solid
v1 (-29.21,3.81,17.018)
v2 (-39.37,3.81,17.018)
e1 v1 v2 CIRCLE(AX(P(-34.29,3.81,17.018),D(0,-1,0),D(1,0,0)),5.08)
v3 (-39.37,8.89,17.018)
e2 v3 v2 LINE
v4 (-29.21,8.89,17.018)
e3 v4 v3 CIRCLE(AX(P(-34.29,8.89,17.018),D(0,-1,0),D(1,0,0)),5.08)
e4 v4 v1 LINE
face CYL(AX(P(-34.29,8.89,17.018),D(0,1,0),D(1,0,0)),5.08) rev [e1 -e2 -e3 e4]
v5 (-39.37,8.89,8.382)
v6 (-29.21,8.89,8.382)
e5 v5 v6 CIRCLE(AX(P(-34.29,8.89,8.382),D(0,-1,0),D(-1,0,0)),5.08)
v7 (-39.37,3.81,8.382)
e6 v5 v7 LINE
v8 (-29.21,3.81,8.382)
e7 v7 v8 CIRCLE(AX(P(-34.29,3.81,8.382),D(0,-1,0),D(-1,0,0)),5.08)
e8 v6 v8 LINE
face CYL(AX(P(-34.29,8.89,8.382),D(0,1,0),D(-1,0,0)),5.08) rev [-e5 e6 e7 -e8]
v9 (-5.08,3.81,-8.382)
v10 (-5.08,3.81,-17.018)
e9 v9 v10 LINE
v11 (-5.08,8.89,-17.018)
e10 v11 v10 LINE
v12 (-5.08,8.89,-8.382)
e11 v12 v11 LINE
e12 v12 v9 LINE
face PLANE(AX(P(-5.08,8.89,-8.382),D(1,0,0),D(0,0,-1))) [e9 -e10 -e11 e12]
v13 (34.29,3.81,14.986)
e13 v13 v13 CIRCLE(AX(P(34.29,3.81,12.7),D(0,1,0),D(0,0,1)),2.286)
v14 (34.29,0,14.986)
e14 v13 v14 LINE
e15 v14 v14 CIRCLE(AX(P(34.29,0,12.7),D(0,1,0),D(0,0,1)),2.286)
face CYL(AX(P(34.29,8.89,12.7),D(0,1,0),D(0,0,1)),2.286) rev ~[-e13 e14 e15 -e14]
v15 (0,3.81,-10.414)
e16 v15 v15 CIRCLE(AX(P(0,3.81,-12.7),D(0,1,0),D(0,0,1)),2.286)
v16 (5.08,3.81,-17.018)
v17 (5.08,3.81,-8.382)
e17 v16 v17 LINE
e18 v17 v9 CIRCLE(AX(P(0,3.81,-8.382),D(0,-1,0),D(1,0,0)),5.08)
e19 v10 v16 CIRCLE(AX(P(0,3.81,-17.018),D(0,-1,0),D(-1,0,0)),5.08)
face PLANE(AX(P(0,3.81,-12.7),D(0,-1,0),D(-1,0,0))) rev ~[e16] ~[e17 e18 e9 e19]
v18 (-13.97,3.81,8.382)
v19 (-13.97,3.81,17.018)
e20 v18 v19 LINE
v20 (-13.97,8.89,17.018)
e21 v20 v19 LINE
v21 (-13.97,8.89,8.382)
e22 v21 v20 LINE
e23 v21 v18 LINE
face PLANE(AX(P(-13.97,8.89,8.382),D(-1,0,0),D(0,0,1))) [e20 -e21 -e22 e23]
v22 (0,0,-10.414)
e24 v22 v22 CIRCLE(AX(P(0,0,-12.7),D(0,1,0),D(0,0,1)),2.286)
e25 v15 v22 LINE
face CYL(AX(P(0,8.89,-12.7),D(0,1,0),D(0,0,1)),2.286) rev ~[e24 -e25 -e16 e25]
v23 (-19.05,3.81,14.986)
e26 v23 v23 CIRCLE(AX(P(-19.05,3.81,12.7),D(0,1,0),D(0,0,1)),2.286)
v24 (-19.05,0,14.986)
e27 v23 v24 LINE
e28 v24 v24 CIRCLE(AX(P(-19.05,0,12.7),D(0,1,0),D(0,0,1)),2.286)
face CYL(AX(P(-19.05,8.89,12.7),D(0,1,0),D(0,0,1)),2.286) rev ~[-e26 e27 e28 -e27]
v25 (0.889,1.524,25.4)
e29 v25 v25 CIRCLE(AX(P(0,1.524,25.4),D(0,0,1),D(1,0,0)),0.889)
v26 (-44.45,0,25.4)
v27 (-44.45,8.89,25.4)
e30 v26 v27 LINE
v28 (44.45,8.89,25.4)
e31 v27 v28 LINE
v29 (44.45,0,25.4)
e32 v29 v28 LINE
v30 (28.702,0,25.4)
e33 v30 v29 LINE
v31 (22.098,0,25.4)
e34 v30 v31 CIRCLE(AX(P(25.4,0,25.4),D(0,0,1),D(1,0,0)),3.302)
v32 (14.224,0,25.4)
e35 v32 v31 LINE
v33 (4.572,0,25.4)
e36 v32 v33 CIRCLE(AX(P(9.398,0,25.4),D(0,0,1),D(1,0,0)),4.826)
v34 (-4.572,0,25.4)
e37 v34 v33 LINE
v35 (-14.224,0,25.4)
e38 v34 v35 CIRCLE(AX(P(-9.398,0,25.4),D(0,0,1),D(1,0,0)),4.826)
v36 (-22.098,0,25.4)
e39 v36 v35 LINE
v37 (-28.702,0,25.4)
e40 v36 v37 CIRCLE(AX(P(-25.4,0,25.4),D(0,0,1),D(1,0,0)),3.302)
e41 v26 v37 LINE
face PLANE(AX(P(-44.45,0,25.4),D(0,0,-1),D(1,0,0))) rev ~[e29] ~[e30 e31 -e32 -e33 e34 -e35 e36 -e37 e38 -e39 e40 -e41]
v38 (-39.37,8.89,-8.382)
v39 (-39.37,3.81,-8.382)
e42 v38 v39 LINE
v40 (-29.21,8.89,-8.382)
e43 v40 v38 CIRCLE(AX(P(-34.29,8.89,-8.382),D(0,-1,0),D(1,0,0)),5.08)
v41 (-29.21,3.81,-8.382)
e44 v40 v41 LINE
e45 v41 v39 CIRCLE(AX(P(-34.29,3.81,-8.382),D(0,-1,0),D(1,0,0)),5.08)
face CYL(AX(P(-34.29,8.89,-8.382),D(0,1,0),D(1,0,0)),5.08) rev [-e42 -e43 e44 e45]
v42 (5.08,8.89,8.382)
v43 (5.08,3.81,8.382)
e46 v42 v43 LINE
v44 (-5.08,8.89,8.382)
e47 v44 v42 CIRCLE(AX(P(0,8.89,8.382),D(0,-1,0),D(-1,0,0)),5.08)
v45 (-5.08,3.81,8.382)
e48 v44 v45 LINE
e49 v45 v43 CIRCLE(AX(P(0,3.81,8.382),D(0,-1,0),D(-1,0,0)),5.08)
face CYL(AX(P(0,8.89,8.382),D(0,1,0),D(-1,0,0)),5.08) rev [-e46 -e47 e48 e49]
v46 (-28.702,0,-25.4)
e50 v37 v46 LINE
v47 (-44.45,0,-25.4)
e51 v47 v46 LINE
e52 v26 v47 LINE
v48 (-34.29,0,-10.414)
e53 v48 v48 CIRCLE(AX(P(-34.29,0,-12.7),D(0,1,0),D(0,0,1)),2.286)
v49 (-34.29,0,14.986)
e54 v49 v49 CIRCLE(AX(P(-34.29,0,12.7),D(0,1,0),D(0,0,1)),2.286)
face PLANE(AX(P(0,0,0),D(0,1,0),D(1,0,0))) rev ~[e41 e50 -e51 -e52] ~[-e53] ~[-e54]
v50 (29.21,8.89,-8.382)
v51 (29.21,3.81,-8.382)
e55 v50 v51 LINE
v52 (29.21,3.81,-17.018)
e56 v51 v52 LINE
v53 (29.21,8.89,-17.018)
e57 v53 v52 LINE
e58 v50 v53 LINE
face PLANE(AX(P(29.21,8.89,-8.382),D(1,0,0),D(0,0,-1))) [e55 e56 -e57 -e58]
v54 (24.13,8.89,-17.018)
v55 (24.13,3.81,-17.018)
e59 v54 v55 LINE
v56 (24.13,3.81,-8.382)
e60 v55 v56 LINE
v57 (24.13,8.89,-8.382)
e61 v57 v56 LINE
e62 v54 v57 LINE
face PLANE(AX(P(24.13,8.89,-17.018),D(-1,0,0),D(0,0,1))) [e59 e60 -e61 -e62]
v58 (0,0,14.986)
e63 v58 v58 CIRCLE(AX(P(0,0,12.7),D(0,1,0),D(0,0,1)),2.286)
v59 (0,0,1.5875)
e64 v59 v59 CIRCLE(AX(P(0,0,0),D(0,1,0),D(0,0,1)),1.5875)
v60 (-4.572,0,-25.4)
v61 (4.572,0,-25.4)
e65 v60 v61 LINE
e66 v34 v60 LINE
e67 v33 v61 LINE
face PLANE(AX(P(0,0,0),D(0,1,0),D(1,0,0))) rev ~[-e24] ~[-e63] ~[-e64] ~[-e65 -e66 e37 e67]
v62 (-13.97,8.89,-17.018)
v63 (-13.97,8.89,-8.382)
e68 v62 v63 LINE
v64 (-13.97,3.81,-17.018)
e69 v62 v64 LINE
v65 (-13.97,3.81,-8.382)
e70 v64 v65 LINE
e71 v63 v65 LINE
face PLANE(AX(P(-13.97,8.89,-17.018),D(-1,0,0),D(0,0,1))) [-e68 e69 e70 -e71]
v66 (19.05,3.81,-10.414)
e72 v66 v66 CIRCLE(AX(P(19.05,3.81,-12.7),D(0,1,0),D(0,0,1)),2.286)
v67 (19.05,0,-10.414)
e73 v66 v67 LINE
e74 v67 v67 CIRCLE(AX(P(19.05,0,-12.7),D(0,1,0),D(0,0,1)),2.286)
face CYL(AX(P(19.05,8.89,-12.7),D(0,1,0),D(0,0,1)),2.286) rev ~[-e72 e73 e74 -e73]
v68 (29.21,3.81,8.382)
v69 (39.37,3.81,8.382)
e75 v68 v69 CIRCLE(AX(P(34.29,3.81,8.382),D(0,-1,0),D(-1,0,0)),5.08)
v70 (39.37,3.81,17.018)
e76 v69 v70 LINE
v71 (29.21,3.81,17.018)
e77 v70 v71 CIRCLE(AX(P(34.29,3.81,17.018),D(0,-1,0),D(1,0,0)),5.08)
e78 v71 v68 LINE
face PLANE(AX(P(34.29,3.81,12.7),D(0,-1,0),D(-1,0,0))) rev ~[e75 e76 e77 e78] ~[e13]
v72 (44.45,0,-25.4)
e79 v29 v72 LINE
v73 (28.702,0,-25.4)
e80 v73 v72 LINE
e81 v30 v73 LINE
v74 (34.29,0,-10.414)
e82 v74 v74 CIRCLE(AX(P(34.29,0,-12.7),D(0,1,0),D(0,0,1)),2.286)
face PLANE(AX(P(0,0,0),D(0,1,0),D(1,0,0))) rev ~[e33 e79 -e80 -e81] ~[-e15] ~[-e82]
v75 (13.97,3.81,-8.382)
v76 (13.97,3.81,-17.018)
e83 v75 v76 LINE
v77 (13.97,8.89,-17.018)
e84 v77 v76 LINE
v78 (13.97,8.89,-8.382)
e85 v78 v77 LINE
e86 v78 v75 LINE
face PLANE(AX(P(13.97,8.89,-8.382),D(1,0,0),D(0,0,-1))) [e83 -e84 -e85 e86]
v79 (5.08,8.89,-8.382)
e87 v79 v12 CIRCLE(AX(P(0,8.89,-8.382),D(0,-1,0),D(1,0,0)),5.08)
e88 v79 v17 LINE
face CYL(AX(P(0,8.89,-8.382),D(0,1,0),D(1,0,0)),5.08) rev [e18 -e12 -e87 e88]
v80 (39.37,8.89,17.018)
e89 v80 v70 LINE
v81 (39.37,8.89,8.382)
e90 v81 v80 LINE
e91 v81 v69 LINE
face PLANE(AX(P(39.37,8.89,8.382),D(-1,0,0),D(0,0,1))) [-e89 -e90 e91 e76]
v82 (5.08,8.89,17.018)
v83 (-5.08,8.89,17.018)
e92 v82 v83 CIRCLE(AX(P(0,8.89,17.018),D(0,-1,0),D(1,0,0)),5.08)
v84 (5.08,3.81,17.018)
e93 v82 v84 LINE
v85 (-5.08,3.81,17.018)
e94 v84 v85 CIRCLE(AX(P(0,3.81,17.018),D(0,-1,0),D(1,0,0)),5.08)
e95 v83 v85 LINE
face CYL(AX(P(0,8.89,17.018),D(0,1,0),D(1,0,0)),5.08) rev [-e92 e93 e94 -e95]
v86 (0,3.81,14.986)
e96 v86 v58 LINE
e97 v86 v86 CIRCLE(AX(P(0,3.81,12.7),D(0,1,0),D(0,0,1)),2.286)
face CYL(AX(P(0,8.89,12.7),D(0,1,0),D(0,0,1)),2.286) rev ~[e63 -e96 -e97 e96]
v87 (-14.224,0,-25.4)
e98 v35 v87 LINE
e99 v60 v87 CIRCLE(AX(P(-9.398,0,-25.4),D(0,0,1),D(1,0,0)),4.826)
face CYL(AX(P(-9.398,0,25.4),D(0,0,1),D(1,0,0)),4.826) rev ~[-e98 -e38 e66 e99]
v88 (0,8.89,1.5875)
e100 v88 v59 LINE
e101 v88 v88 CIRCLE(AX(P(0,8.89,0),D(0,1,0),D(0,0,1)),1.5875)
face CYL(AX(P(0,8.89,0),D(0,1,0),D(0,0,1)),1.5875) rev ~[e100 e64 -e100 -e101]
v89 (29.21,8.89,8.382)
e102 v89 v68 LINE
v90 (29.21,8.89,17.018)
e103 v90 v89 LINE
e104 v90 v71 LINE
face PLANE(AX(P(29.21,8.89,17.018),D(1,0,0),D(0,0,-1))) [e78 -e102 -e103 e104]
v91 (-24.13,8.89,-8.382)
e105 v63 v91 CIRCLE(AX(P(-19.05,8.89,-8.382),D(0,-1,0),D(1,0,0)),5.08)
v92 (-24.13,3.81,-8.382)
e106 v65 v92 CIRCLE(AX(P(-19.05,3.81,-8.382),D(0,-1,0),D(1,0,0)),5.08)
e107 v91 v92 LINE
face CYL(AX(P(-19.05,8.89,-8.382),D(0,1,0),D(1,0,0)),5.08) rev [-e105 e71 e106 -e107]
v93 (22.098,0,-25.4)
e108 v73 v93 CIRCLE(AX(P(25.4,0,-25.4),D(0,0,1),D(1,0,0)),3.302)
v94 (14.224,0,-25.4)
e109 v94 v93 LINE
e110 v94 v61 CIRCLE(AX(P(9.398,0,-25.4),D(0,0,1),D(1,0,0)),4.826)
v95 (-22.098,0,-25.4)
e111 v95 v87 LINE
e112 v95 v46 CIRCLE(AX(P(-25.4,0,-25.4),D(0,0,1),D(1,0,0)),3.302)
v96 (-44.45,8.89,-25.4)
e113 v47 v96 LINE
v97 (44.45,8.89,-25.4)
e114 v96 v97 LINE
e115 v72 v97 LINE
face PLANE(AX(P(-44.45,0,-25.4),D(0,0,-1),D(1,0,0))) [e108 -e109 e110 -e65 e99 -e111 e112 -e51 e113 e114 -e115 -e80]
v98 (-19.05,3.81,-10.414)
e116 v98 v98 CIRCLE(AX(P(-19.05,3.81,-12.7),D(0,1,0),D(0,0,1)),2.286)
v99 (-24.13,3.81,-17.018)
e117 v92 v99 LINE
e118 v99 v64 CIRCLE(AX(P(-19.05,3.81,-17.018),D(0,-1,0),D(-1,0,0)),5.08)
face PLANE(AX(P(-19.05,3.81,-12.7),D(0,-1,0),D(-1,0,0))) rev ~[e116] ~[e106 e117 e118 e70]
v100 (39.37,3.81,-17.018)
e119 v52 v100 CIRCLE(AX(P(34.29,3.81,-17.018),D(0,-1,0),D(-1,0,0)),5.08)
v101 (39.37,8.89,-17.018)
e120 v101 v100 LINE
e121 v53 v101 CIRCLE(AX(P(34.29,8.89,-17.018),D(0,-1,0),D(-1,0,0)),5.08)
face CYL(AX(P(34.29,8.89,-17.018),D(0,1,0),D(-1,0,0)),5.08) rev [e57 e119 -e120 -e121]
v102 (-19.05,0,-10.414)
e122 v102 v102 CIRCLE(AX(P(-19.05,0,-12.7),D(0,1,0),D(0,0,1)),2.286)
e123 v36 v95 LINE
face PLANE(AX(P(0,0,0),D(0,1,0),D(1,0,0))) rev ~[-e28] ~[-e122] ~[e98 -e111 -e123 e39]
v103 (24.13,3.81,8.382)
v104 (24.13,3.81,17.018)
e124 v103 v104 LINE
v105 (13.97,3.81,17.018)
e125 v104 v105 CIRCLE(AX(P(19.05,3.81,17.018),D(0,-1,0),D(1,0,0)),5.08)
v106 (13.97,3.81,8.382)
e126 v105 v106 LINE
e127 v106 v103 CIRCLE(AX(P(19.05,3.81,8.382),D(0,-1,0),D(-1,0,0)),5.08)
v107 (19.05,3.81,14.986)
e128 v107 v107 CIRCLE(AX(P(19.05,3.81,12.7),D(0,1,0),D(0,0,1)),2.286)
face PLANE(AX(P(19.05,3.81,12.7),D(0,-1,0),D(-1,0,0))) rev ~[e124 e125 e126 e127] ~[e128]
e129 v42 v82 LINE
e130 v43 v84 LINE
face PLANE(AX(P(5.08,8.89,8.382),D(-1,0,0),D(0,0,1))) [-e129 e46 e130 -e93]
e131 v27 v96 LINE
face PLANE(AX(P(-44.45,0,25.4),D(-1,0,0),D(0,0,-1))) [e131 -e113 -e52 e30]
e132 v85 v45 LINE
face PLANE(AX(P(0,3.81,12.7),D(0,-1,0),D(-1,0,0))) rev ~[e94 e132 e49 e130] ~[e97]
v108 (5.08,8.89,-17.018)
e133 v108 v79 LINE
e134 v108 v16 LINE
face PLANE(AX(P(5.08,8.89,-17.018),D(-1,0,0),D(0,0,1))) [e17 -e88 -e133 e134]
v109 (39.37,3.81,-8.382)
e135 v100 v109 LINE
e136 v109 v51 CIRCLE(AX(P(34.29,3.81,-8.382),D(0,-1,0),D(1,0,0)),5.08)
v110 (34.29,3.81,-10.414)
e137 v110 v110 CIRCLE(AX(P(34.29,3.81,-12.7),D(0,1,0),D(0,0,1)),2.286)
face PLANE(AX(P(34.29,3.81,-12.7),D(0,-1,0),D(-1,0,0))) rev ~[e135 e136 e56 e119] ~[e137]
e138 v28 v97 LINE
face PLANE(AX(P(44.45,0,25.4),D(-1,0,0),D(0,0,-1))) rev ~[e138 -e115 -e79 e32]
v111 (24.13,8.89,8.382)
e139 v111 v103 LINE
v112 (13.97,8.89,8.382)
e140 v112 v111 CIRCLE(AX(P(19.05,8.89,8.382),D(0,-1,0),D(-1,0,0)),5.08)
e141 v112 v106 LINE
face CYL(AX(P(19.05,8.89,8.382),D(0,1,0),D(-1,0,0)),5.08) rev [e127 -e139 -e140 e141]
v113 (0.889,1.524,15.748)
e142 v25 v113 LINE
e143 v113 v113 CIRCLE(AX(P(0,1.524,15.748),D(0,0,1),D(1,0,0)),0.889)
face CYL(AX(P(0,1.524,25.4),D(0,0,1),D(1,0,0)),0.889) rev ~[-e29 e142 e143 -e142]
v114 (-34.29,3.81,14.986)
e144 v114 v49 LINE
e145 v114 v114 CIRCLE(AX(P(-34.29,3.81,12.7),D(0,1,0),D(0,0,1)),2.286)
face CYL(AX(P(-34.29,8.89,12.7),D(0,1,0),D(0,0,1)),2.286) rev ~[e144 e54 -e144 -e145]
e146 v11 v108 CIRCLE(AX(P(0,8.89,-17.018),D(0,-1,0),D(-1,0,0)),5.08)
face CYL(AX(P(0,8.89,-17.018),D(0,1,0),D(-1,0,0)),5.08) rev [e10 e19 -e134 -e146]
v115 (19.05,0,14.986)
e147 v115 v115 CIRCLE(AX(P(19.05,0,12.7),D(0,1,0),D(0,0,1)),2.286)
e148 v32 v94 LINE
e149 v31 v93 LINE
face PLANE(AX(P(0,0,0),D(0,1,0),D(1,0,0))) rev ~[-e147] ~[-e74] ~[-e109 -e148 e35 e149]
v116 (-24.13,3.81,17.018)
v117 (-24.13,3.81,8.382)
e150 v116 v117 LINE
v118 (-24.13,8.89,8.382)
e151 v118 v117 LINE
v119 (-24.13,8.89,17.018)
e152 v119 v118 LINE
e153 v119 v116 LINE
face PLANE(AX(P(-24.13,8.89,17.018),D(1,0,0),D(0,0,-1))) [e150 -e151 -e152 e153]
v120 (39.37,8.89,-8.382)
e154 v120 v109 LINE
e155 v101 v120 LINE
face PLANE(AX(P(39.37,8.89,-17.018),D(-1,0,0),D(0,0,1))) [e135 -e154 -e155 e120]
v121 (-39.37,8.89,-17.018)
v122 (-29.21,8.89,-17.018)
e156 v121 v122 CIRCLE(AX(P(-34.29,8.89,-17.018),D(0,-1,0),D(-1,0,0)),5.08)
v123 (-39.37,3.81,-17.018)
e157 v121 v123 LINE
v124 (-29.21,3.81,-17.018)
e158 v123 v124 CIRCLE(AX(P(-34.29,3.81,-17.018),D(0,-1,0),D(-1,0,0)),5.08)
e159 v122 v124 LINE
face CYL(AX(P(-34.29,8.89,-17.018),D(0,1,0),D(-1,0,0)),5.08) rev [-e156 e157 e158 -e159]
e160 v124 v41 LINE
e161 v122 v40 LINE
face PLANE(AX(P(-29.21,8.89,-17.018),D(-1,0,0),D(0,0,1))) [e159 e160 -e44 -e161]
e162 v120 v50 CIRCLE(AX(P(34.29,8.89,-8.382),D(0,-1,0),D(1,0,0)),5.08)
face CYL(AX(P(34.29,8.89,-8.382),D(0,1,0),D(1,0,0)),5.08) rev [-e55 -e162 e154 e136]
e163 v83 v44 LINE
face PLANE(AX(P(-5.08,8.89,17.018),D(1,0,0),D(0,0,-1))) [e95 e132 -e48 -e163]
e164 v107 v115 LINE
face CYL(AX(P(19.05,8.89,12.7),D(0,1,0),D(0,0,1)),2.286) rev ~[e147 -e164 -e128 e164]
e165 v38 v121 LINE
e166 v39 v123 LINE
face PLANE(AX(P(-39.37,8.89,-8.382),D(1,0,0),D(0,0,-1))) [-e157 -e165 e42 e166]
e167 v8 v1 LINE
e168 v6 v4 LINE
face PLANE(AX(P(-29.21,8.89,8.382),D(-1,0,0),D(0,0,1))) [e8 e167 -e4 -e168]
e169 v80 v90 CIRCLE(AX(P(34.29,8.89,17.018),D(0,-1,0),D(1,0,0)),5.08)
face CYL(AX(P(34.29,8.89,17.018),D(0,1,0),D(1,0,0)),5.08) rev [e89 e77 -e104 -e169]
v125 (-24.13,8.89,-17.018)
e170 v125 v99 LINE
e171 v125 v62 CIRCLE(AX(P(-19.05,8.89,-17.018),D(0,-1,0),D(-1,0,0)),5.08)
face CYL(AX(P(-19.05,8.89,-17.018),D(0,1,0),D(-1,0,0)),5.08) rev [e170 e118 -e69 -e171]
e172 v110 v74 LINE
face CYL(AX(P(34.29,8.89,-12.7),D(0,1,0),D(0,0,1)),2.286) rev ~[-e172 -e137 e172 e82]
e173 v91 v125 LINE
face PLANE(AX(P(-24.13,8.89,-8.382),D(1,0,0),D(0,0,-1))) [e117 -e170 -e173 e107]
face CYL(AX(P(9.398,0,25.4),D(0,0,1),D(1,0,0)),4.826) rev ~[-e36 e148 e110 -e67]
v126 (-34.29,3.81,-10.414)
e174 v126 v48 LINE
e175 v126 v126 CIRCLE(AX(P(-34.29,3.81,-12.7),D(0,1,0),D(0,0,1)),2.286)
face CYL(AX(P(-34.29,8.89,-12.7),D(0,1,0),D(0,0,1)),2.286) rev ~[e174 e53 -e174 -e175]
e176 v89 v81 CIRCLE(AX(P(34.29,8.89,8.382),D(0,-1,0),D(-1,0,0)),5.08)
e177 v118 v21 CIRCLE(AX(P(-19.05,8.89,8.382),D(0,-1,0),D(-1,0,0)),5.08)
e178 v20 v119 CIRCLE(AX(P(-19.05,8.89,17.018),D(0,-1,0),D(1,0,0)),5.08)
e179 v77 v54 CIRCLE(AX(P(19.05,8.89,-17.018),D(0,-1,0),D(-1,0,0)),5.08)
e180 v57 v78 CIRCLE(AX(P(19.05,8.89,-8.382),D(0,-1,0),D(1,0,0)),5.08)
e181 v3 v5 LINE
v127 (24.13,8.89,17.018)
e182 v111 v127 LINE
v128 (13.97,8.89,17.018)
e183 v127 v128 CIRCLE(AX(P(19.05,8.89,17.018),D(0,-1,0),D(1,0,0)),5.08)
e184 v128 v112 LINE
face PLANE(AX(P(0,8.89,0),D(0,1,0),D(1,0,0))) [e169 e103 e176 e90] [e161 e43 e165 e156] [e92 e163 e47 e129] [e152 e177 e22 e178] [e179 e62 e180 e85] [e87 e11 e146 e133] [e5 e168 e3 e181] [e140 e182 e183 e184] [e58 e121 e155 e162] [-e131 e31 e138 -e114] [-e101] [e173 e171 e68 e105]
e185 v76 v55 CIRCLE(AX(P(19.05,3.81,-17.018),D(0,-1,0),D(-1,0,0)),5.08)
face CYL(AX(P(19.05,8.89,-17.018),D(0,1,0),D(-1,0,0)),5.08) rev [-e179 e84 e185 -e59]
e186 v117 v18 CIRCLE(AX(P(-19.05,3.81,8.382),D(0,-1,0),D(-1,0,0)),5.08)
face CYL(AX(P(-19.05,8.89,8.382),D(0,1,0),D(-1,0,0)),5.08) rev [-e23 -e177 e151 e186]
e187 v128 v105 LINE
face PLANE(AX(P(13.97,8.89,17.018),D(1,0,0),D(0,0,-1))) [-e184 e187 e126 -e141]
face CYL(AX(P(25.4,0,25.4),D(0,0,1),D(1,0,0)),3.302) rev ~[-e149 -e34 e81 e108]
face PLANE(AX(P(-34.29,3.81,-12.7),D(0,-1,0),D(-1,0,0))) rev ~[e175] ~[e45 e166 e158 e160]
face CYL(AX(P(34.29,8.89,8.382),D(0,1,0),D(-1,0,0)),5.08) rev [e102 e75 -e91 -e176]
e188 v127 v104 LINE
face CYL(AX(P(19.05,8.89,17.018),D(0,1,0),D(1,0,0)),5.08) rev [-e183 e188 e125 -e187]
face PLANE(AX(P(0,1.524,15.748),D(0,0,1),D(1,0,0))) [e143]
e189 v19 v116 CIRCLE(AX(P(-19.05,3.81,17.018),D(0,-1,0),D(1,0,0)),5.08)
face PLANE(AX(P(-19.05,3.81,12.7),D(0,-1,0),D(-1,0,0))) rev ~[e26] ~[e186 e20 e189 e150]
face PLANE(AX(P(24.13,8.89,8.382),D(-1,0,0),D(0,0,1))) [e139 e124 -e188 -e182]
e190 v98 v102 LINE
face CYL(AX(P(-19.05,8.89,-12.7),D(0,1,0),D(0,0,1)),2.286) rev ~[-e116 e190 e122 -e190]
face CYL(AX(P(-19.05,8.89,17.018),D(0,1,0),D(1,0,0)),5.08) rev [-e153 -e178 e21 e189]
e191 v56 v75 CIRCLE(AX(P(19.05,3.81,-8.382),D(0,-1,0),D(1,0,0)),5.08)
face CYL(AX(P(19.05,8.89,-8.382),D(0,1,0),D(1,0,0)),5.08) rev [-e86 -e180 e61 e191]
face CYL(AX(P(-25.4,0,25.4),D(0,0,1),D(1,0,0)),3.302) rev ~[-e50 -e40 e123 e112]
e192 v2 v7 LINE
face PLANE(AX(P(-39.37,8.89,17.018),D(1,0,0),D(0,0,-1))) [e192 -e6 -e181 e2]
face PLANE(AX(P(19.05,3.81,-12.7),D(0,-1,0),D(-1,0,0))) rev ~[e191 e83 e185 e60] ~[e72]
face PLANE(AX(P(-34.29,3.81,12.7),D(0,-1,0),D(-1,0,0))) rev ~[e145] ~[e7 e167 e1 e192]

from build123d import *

# Parameters (mm, degrees)
SKETCH1_W           = 88.9
SKETCH1_H           = 50.8
BOSS_EXTRUDE1_DEPTH = 8.89
SKETCH3_R           = 0.889
CUT_EXTRUDE3_DEPTH  = 9.652
CUT_EXTRUDE4_DEPTH  = 69.084319781
CUT_EXTRUDE5_DEPTH  = 69.084319781
CUT_EXTRUDE6_DEPTH  = 69.084319781
SKETCH2_R           = 2.286
CUT_EXTRUDE8_DEPTH  = 5.08
SKETCH11_R          = 2.286
CUT_EXTRUDE9_DEPTH  = 52.961472266
LPATTERN5_COUNT     = 2
LPATTERN5_PITCH     = 25.4
LPATTERN7_COUNT     = 2
LPATTERN7_PITCH     = 25.4
SKETCH12_R          = 1.5875
CUT_EXTRUDE10_DEPTH = 52.961472266
SKETCH13_R          = 0.889
CUT_EXTRUDE11_DEPTH = 9.652


with BuildPart() as part:
    # Sketch1 → Boss-Extrude1 (new body)
    with BuildSketch(Plane(origin=(0, 0, 0), x_dir=(1, 0, 0), z_dir=(0, 1, 0))):
        Rectangle(SKETCH1_W, SKETCH1_H)
    extrude(amount=BOSS_EXTRUDE1_DEPTH)

    # Sketch3 → Cut-Extrude3 (cut)
    with BuildSketch(Plane.XY.offset(25.4)):
        with Locations((6.35, 1.524)):
            Circle(SKETCH3_R)
    extrude(amount=-CUT_EXTRUDE3_DEPTH, mode=Mode.SUBTRACT)

    # Sketch4 → Cut-Extrude4 (cut, through all)
    with BuildSketch(Plane.XY.offset(25.4)):
        with BuildLine():
            Line((4.572, 0), (14.224, 0))
            ThreePointArc((14.224, 0), (9.398, 4.826), (4.572, 0))
        make_face()
    extrude(amount=-CUT_EXTRUDE4_DEPTH, mode=Mode.SUBTRACT)

    # Sketch5 → Cut-Extrude5 (cut, through all)
    with BuildSketch(Plane.XY.offset(25.4)):
        with BuildLine():
            Line((22.098, 0), (28.702, 0))
            ThreePointArc((28.702, 0), (25.4, 3.302), (22.098, 0))
        make_face()
    extrude(amount=-CUT_EXTRUDE5_DEPTH, mode=Mode.SUBTRACT)

    # Sketch6 → Cut-Extrude6 (cut, through all)
    with BuildSketch(Plane.XY.offset(25.4)):
        with BuildLine():
            Line((-28.702, 0), (-22.098, 0))
            ThreePointArc((-22.098, 0), (-25.4, 3.302), (-28.702, 0))
        make_face()
        with BuildLine():
            Line((-14.224, 0), (-4.572, 0))
            ThreePointArc((-4.572, 0), (-9.398, 4.826), (-14.224, 0))
        make_face()
    extrude(amount=-CUT_EXTRUDE6_DEPTH, mode=Mode.SUBTRACT)

    # Sketch2 → Cut-Extrude8 (cut)
    # profile 1 of 5: a face of its own
    with BuildSketch(Plane(origin=(0, 8.89, 0), x_dir=(1, 0, 0), z_dir=(0, 1, 0))):
        with BuildLine():
            Line((-29.21, 17.018), (-29.21, 8.382))
            ThreePointArc((-29.21, 8.382), (-34.29, 3.302), (-39.37, 8.382))
            Line((-39.37, 8.382), (-39.37, 17.018))
            ThreePointArc((-39.37, 17.018), (-34.29, 22.098), (-29.21, 17.018))
        make_face()
        with Locations(Location((-34.29, 12.7, 0), (0, 0, 270))):
            Circle(SKETCH2_R, mode=Mode.SUBTRACT)
    # profile 2 of 5: a face of its own
    with BuildSketch(Plane(origin=(0, 8.89, 0), x_dir=(1, 0, 0), z_dir=(0, 1, 0))):
        with BuildLine():
            Line((-13.97, 17.018), (-13.97, 8.382))
            ThreePointArc((-13.97, 8.382), (-19.05, 3.302), (-24.13, 8.382))
            Line((-24.13, 8.382), (-24.13, 17.018))
            ThreePointArc((-24.13, 17.018), (-19.05, 22.098), (-13.97, 17.018))
        make_face()
        with Locations(Location((-19.05, 12.7, 0), (0, 0, 270))):
            Circle(SKETCH2_R, mode=Mode.SUBTRACT)
    # profile 3 of 5: a face of its own
    with BuildSketch(Plane(origin=(0, 8.89, 0), x_dir=(1, 0, 0), z_dir=(0, 1, 0))):
        with BuildLine():
            Line((5.08, 17.018), (5.08, 8.382))
            ThreePointArc((5.08, 8.382), (0, 3.302), (-5.08, 8.382))
            Line((-5.08, 8.382), (-5.08, 17.018))
            ThreePointArc((-5.08, 17.018), (0, 22.098), (5.08, 17.018))
        make_face()
        with Locations(Location((0, 12.7, 0), (0, 0, 270))):
            Circle(SKETCH2_R, mode=Mode.SUBTRACT)
    # profile 4 of 5: a face of its own
    with BuildSketch(Plane(origin=(0, 8.89, 0), x_dir=(1, 0, 0), z_dir=(0, 1, 0))):
        with BuildLine():
            Line((24.13, 17.018), (24.13, 8.382))
            ThreePointArc((24.13, 8.382), (19.05, 3.302), (13.97, 8.382))
            Line((13.97, 8.382), (13.97, 17.018))
            ThreePointArc((13.97, 17.018), (19.05, 22.098), (24.13, 17.018))
        make_face()
        with Locations(Location((19.05, 12.7, 0), (0, 0, 270))):
            Circle(SKETCH2_R, mode=Mode.SUBTRACT)
    # profile 5 of 5: a face of its own
    with BuildSketch(Plane(origin=(0, 8.89, 0), x_dir=(1, 0, 0), z_dir=(0, 1, 0))):
        with BuildLine():
            Line((39.37, 17.018), (39.37, 8.382))
            ThreePointArc((39.37, 8.382), (34.29, 3.302), (29.21, 8.382))
            Line((29.21, 8.382), (29.21, 17.018))
            ThreePointArc((29.21, 17.018), (34.29, 22.098), (39.37, 17.018))
        make_face()
        with Locations(Location((34.29, 12.7, 0), (0, 0, 270))):
            Circle(SKETCH2_R, mode=Mode.SUBTRACT)
    cut_extrude8 = extrude(amount=-CUT_EXTRUDE8_DEPTH, mode=Mode.SUBTRACT)

    # Sketch11 → Cut-Extrude9 (cut, through all)
    with BuildSketch(Plane(origin=(0, 8.89, 0), x_dir=(1, 0, 0), z_dir=(0, 1, 0))):
        with Locations(Location((-34.29, 12.7, 0), (0, 0, 270))):
            Circle(SKETCH11_R)
        with Locations(Location((-19.05, 12.7, 0), (0, 0, 270))):
            Circle(SKETCH11_R)
        with Locations(Location((0, 12.7, 0), (0, 0, 270))):
            Circle(SKETCH11_R)
        with Locations(Location((19.05, 12.7, 0), (0, 0, 270))):
            Circle(SKETCH11_R)
        with Locations(Location((34.29, 12.7, 0), (0, 0, 270))):
            Circle(SKETCH11_R)
    cut_extrude9 = extrude(amount=-CUT_EXTRUDE9_DEPTH, mode=Mode.SUBTRACT)

    # LPattern5: Cut-Extrude8 ×2
    with Locations(*[(0, 0, i * LPATTERN5_PITCH) for i in range(1, LPATTERN5_COUNT)]):
        add(cut_extrude8, mode=Mode.SUBTRACT)

    # LPattern7: Cut-Extrude9 ×2
    with Locations(*[(0, 0, i * LPATTERN7_PITCH) for i in range(1, LPATTERN7_COUNT)]):
        add(cut_extrude9, mode=Mode.SUBTRACT)

    # Sketch12 → Cut-Extrude10 (cut, through all)
    with BuildSketch(Plane(origin=(0, 8.89, 0), x_dir=(1, 0, 0), z_dir=(0, 1, 0))):
        with Locations(Location((0, 0, 0), (0, 0, 270))):
            Circle(SKETCH12_R)
    extrude(amount=-CUT_EXTRUDE10_DEPTH, mode=Mode.SUBTRACT)

    # Sketch13 → Cut-Extrude11 (cut)
    with BuildSketch(Plane.XY.offset(25.4)):
        with Locations((0, 1.524)):
            Circle(SKETCH13_R)
    extrude(amount=-CUT_EXTRUDE11_DEPTH, mode=Mode.SUBTRACT)


solid = part.part
